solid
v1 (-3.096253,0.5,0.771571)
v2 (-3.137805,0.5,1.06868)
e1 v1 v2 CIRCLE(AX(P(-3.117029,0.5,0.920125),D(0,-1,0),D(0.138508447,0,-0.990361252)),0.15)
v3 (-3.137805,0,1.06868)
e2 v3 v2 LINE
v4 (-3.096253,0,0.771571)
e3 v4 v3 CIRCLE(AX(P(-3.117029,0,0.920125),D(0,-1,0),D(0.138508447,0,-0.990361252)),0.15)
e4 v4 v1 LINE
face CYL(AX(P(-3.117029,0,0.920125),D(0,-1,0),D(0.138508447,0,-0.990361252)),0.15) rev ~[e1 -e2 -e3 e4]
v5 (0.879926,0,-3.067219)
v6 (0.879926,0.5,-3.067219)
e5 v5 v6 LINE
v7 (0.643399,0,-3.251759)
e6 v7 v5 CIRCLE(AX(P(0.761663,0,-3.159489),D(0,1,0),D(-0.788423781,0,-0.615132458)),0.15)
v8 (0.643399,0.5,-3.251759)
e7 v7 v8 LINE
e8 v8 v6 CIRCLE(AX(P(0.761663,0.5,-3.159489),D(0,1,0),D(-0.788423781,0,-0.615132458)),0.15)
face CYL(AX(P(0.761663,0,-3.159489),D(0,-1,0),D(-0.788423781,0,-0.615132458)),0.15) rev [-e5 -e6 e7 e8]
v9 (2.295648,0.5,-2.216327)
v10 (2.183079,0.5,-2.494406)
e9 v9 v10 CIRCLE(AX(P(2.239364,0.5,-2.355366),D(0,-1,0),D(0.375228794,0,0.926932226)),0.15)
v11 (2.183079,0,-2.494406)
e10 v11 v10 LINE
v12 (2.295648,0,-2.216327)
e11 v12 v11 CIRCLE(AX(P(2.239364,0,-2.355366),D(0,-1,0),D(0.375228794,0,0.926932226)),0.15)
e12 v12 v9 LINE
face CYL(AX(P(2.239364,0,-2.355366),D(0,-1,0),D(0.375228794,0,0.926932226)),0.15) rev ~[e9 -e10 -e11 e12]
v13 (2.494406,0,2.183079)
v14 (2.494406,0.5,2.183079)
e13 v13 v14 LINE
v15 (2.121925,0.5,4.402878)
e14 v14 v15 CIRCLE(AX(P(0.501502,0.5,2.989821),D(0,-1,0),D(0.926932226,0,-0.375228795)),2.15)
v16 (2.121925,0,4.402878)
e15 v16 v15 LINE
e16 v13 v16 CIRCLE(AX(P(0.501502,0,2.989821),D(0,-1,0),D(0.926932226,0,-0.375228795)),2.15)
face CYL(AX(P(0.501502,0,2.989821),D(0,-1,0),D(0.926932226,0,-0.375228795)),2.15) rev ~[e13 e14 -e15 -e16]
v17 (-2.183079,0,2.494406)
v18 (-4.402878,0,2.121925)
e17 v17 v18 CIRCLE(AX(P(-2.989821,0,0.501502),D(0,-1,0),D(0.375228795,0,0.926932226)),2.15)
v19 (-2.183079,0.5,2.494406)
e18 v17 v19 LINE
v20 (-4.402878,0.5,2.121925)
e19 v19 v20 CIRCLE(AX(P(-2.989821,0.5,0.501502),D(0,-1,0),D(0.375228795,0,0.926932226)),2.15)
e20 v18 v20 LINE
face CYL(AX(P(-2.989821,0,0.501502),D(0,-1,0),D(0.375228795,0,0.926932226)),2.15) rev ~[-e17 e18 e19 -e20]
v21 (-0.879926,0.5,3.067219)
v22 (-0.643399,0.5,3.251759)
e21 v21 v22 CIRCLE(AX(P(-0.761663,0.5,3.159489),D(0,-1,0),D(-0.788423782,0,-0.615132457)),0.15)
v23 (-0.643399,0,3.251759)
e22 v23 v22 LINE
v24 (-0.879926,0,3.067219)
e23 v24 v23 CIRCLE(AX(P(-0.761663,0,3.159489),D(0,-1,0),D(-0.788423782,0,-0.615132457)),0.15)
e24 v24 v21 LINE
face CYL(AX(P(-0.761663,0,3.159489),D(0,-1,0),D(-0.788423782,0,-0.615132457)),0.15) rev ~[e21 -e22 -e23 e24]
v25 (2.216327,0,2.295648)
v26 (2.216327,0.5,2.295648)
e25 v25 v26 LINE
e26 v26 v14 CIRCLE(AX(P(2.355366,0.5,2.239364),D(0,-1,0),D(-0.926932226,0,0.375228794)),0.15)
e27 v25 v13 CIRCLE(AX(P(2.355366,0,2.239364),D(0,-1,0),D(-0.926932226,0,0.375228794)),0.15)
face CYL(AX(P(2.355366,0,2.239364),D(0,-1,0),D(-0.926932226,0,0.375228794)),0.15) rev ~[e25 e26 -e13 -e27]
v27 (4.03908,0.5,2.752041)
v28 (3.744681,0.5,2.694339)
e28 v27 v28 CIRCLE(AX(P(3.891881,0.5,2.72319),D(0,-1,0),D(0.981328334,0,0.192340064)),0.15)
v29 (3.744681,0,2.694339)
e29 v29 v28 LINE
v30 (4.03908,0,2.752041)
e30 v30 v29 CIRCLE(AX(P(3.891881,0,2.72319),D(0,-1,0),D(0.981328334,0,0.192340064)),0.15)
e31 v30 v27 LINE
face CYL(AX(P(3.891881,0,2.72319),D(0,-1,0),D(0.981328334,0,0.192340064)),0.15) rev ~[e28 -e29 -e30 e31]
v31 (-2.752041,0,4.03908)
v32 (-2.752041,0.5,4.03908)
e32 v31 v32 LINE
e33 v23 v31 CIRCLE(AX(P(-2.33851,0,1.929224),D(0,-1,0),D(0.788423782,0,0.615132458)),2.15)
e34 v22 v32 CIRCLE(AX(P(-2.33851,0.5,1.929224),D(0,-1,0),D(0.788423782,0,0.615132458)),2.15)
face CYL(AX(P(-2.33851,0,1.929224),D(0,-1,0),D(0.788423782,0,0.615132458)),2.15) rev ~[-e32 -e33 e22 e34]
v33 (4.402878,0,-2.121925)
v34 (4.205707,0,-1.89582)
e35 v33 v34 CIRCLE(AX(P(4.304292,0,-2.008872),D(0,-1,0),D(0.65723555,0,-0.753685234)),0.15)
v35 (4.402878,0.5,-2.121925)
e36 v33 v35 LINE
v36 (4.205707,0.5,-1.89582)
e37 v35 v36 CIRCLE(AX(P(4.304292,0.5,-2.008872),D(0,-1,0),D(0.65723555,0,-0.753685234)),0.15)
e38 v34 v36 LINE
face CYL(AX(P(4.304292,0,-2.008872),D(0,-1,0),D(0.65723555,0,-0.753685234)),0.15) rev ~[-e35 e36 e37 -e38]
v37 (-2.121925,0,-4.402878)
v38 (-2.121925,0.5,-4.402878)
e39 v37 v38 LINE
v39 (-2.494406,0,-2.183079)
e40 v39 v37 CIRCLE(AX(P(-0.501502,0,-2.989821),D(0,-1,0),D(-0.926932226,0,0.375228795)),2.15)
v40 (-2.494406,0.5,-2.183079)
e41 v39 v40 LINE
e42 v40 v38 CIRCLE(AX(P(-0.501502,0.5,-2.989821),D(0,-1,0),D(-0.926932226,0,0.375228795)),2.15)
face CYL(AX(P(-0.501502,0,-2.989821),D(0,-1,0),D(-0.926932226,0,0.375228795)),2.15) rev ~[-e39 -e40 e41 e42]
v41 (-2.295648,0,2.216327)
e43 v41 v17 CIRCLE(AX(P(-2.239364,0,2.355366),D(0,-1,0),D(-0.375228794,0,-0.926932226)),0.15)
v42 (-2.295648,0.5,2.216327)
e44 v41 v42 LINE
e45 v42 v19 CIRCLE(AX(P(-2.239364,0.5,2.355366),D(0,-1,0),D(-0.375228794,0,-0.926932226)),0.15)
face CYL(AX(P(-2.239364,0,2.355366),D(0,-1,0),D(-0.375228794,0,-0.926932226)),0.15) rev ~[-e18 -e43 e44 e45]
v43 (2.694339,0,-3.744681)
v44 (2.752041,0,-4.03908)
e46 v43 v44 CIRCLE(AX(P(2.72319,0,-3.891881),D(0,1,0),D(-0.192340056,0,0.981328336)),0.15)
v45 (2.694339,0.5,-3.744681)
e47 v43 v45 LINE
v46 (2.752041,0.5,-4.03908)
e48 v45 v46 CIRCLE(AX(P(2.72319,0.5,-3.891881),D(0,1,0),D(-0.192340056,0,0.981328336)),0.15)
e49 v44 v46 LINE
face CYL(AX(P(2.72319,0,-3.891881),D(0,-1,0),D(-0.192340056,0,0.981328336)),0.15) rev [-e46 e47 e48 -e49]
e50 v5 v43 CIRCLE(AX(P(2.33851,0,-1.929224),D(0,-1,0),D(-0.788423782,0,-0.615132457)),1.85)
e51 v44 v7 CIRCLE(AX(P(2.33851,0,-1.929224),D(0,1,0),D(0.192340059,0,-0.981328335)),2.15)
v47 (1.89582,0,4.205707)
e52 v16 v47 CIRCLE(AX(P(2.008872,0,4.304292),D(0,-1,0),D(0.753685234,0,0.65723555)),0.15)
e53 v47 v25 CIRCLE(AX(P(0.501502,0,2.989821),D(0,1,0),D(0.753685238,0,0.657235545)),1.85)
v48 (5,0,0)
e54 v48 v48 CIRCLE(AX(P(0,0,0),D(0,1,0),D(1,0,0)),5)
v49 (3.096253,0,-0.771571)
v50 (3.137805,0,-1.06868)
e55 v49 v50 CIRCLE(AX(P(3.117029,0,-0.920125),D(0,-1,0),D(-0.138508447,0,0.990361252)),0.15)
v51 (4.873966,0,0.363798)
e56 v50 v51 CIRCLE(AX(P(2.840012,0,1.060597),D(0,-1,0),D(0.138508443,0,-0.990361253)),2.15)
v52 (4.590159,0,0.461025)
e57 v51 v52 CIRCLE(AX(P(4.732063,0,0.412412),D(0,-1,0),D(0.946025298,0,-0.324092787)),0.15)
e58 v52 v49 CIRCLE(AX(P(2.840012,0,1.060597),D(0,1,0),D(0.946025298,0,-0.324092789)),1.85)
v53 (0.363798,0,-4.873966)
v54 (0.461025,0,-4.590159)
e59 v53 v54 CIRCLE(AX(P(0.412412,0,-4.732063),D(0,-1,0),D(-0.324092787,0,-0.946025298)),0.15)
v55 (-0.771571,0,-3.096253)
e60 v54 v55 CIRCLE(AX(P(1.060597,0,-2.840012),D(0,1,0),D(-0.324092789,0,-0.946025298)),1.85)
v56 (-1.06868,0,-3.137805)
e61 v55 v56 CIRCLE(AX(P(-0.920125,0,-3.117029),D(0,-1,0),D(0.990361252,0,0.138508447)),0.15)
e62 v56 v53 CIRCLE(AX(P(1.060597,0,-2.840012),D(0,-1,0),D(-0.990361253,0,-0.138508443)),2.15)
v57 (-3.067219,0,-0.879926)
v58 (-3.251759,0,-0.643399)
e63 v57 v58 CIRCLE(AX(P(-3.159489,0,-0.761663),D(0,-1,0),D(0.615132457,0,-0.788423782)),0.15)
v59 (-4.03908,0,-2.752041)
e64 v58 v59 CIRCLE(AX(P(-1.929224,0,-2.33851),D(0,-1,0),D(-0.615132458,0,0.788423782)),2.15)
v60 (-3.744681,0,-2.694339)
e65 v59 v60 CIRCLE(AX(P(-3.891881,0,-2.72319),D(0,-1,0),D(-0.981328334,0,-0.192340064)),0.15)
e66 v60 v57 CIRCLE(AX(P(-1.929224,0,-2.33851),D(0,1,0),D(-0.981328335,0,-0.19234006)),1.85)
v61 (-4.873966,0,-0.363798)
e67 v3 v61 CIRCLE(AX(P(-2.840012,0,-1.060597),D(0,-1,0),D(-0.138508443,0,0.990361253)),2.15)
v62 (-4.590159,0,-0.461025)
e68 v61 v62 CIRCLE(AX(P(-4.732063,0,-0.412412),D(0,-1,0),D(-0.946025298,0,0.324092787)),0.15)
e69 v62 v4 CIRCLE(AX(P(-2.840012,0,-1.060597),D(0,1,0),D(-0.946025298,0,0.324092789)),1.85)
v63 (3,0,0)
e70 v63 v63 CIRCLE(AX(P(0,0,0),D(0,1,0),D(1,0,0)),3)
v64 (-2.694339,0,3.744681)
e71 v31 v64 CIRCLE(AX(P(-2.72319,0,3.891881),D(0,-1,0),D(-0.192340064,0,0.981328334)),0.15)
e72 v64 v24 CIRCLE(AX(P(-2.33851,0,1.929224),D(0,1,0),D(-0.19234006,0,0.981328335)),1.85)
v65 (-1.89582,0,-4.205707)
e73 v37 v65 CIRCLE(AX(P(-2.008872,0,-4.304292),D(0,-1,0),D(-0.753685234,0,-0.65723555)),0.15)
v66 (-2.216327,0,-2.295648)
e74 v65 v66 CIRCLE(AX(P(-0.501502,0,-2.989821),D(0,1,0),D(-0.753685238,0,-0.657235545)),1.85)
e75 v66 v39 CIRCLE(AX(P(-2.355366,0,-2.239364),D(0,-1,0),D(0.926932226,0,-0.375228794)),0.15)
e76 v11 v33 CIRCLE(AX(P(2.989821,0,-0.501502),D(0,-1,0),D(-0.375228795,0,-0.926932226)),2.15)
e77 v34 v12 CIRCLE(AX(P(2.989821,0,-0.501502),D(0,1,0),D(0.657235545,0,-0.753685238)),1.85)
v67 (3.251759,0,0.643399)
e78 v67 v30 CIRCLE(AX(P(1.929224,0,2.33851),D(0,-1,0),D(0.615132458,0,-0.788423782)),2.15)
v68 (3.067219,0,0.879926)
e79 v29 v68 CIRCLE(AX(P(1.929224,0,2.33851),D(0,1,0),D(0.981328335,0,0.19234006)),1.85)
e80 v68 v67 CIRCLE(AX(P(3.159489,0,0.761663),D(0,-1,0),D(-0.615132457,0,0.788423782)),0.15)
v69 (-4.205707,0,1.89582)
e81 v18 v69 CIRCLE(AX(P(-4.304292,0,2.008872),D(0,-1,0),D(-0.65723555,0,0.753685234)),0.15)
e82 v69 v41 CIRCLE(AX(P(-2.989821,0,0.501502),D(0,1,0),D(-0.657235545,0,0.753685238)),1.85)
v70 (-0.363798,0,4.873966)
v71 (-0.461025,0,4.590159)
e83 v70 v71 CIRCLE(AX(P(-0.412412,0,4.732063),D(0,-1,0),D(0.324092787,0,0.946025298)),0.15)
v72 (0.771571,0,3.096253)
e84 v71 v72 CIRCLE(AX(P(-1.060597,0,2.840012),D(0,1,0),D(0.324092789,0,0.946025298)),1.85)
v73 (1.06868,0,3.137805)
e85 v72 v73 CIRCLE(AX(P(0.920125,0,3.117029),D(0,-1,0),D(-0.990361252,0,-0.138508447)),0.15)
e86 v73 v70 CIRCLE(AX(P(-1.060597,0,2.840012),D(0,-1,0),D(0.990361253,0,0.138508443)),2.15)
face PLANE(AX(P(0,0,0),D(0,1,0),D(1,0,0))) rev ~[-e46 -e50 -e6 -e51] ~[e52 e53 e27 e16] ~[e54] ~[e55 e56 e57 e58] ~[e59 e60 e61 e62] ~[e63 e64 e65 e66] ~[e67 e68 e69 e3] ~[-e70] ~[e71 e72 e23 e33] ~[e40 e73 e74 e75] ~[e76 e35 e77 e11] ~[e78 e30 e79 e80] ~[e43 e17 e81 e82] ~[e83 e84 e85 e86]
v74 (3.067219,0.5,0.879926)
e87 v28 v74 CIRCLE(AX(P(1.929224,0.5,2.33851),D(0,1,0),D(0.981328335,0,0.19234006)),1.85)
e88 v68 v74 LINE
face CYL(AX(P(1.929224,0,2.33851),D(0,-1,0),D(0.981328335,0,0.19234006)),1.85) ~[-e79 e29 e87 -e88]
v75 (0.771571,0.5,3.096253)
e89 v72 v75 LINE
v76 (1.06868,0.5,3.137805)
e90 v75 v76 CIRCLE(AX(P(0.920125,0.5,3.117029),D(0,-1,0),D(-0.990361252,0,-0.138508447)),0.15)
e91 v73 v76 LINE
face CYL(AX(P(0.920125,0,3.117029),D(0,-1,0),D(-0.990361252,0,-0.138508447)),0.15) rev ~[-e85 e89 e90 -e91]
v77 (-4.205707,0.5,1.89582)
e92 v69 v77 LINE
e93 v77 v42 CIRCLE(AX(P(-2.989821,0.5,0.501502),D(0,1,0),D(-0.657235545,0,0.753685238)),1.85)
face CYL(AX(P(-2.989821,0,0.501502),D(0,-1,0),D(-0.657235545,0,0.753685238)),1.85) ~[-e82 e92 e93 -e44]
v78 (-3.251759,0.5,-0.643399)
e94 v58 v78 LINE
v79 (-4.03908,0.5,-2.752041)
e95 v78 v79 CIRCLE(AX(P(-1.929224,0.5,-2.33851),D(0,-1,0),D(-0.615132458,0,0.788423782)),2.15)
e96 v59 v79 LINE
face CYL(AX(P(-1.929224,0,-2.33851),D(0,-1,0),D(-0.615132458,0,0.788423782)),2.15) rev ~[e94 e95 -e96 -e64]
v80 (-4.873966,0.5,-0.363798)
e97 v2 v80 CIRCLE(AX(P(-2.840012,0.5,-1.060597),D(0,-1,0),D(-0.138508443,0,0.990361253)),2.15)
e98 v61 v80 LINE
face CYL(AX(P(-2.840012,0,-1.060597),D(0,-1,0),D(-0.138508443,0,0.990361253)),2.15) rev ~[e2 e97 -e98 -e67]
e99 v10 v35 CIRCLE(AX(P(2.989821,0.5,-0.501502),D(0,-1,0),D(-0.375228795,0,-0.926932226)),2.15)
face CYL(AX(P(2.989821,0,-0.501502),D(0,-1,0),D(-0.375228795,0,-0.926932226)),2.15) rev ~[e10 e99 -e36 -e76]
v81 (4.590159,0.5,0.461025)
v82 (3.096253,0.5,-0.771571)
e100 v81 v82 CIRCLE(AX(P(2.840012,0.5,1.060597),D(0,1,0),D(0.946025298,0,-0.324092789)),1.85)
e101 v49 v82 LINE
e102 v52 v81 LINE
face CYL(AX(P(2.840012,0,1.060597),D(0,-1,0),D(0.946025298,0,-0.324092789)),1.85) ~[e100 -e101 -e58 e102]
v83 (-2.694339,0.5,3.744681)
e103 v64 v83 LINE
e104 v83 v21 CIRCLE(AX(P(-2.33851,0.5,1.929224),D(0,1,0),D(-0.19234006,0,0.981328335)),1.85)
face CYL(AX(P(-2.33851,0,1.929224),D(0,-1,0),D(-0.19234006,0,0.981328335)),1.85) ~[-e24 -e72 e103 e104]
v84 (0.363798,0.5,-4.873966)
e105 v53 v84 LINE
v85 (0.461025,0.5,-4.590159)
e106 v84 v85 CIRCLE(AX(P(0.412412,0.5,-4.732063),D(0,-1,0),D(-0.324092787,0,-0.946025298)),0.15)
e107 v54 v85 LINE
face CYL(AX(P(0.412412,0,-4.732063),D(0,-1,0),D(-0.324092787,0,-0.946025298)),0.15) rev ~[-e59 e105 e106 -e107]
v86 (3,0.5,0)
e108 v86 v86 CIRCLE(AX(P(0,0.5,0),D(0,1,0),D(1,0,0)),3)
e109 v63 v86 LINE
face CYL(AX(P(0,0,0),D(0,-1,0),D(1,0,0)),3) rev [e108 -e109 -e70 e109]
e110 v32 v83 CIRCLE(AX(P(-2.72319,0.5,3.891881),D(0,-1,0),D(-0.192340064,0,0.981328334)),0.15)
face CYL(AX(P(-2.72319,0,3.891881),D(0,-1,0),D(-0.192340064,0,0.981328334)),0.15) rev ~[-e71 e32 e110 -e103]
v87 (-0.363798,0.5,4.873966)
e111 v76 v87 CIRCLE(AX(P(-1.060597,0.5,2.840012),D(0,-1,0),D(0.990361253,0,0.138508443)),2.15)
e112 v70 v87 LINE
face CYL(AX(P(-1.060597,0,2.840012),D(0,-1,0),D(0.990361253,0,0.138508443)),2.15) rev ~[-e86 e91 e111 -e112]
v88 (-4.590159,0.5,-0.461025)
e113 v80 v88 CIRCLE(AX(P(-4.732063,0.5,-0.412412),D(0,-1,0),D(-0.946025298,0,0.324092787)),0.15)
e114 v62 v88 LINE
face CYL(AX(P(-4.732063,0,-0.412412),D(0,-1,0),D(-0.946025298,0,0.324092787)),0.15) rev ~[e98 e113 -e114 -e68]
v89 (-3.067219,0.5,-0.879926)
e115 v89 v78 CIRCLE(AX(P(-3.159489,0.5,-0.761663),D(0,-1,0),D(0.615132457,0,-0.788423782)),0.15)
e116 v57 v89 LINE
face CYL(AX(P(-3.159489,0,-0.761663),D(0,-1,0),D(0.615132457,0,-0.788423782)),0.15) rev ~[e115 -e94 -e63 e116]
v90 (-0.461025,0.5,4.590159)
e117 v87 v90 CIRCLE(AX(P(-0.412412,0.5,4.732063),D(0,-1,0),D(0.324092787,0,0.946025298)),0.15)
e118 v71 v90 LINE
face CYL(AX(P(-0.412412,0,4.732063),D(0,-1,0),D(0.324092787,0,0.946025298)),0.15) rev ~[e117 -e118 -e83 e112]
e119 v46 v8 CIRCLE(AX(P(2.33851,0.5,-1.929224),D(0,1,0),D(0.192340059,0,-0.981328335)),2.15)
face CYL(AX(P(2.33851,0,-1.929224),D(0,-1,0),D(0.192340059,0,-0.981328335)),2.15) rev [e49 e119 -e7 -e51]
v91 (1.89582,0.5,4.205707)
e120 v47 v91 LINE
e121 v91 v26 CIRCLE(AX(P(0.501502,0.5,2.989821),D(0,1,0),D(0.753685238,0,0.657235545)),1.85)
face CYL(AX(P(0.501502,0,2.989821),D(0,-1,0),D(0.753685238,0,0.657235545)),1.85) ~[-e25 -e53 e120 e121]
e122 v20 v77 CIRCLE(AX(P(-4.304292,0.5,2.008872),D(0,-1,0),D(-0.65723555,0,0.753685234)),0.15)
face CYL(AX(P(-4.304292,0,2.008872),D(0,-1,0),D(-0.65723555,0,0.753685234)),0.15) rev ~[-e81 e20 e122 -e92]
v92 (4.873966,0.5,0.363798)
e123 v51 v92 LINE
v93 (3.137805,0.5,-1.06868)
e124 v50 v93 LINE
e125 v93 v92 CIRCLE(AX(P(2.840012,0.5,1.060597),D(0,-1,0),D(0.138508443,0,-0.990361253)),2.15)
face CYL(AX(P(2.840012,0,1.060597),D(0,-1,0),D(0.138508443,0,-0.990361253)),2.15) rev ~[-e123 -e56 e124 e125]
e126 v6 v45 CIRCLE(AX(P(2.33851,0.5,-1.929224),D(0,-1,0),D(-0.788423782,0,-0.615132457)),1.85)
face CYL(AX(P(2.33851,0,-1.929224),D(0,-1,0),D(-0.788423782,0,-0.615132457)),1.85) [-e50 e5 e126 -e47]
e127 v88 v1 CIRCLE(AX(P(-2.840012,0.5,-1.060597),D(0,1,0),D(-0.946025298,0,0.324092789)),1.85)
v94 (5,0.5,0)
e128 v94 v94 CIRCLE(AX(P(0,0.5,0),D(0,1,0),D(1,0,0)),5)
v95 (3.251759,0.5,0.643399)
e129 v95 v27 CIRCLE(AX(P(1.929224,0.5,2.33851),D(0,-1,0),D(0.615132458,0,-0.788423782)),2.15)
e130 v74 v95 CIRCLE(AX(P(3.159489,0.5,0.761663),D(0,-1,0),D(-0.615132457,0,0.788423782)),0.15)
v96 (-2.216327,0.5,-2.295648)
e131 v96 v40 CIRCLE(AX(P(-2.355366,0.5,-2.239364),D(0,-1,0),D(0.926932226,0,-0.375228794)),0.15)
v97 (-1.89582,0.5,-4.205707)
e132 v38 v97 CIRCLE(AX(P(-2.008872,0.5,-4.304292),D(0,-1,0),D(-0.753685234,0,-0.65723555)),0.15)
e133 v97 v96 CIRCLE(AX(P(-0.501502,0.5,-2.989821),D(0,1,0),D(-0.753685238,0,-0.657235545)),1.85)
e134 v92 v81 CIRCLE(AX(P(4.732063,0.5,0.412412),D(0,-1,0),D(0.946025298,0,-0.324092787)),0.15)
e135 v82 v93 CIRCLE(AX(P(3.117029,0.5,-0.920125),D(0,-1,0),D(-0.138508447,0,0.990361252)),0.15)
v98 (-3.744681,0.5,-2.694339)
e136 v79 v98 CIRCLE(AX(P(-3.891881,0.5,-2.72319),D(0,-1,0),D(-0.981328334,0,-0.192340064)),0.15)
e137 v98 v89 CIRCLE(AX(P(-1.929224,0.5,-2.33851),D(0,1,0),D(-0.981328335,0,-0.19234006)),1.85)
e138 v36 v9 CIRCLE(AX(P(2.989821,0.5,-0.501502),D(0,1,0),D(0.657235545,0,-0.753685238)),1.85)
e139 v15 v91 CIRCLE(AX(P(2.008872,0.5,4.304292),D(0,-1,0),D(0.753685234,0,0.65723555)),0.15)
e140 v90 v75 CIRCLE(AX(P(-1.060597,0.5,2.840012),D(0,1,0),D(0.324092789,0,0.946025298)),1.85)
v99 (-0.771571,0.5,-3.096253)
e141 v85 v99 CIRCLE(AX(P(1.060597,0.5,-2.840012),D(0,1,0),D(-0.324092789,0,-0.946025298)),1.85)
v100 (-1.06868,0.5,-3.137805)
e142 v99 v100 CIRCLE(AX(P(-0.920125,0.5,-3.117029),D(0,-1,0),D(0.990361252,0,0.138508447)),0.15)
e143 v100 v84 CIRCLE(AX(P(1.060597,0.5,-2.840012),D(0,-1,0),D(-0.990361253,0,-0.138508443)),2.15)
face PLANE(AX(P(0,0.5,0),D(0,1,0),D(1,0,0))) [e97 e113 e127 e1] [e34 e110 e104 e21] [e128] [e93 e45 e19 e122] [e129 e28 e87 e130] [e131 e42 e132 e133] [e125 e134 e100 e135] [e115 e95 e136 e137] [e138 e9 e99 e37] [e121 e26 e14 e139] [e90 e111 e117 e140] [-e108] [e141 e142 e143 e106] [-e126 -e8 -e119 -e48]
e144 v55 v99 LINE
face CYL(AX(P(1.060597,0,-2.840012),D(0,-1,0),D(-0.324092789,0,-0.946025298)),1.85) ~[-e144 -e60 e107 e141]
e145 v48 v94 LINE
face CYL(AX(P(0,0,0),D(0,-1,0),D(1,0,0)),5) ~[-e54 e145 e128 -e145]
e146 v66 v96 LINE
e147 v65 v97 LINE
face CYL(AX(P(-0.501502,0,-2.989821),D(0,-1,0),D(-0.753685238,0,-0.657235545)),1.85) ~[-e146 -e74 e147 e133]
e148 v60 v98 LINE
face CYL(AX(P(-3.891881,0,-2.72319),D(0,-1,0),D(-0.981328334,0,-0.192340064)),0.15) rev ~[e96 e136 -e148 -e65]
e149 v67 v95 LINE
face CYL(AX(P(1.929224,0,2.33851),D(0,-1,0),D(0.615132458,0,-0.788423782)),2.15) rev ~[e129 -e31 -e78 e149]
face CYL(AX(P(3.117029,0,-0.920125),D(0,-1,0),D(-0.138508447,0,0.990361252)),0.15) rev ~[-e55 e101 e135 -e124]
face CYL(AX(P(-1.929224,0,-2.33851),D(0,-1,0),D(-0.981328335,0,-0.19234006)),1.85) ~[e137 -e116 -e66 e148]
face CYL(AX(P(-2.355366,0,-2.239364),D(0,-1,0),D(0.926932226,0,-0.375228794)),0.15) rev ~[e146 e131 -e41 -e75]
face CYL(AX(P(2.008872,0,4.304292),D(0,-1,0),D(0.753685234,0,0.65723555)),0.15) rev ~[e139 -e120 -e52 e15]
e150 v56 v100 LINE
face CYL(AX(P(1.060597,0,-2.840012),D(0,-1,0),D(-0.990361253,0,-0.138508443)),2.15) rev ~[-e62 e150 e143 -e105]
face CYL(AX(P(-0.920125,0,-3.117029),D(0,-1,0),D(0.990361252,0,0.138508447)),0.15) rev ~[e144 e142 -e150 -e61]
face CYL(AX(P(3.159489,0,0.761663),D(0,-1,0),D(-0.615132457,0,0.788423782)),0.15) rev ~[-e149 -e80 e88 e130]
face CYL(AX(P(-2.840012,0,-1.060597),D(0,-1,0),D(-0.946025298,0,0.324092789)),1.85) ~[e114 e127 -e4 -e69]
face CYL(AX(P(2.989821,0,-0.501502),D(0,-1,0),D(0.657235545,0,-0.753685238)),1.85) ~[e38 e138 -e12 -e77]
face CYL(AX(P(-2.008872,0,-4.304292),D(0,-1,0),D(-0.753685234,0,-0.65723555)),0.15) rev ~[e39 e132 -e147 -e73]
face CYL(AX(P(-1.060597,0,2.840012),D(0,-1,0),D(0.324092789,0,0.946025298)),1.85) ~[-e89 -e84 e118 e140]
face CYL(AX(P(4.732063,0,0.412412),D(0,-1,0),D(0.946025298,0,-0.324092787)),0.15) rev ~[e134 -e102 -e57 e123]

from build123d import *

# Parameters (mm, degrees)
SKETCH1_R           = 5
SKETCH1_R_2         = 3
BOSS_EXTRUDE1_DEPTH = 0.5
CUT_EXTRUDE2_DEPTH  = 0.5
CUT_EXTRUDE3_DEPTH  = 0.5
CUT_EXTRUDE5_DEPTH  = 0.5


with BuildPart() as part:
    # Sketch1 → Boss-Extrude1 (new body)
    with BuildSketch(Plane(origin=(0, 0, 0), x_dir=(1, 0, 0), z_dir=(0, 1, 0))):
        Circle(SKETCH1_R)
        Circle(SKETCH1_R_2, mode=Mode.SUBTRACT)
    extrude(amount=BOSS_EXTRUDE1_DEPTH)

    # Sketch1<4> → Cut-Extrude2 (cut)
    with BuildSketch(Plane(origin=(0, 0, 0), x_dir=(1, 0, 0), z_dir=(0, 1, 0))):
        with BuildLine():
            ThreePointArc((-3.744681424, 2.694339182), (-3.662355303, 1.691396556), (-3.06721905, 0.879926074))
            ThreePointArc((-3.06721905, 0.879926074), (-3.041225351, 0.669392639), (-3.251758787, 0.64339894))
            ThreePointArc((-3.251758787, 0.64339894), (-3.943403621, 1.586459229), (-4.039079925, 2.7520412))
            ThreePointArc((-4.039079925, 2.7520412), (-3.863029666, 2.870389441), (-3.744681424, 2.694339182))
        make_face()
    extrude(amount=CUT_EXTRUDE2_DEPTH, mode=Mode.SUBTRACT)

    # Sketch1<6> → Cut-Extrude3 (cut)
    with BuildSketch(Plane(origin=(0, 0, 0), x_dir=(1, 0, 0), z_dir=(0, 1, 0))):
        with BuildLine():
            ThreePointArc((2.7520412, 4.039079925), (1.586459229, 3.943403621), (0.64339894, 3.251758787))
            ThreePointArc((0.64339894, 3.251758787), (0.669392639, 3.041225351), (0.879926074, 3.06721905))
            ThreePointArc((0.879926074, 3.06721905), (1.691396556, 3.662355303), (2.694339182, 3.744681424))
            ThreePointArc((2.694339182, 3.744681424), (2.870389441, 3.863029666), (2.7520412, 4.039079925))
        make_face()
        with BuildLine():
            ThreePointArc((-1.895819652, 4.20570689), (-2.325994452, 3.295970036), (-2.216326579, 2.295647859))
            ThreePointArc((-2.216326579, 2.295647859), (-2.299082093, 2.100323706), (-2.494406247, 2.18307922))
            ThreePointArc((-2.494406247, 2.18307922), (-2.621858099, 3.345615805), (-2.121925223, 4.402877554))
            ThreePointArc((-2.121925223, 4.402877554), (-1.910287106, 4.417345007), (-1.895819652, 4.20570689))
        make_face()
        with BuildLine():
            ThreePointArc((0.461025466, 4.590158833), (-0.366385266, 4.017391008), (-0.771571191, 3.096252653))
            ThreePointArc((-0.771571191, 3.096252653), (-0.940901645, 2.968474732), (-1.068679567, 3.137805186))
            ThreePointArc((-1.068679567, 3.137805186), (-0.597787817, 4.208317328), (0.363797629, 4.873966423))
            ThreePointArc((0.363797629, 4.873966423), (0.554315342, 4.780676547), (0.461025466, 4.590158833))
        make_face()
    extrude(amount=CUT_EXTRUDE3_DEPTH, mode=Mode.SUBTRACT)

    # Sketch1<7> → Cut-Extrude5 (cut)
    with BuildSketch(Plane(origin=(0, 0, 0), x_dir=(1, 0, 0), z_dir=(0, 1, 0))):
        with BuildLine():
            ThreePointArc((4.20570689, 1.895819652), (3.295970036, 2.325994452), (2.295647859, 2.216326579))
            ThreePointArc((2.295647859, 2.216326579), (2.100323706, 2.299082093), (2.18307922, 2.494406247))
            ThreePointArc((2.18307922, 2.494406247), (3.345615805, 2.621858099), (4.402877554, 2.121925223))
            ThreePointArc((4.402877554, 2.121925223), (4.417345007, 1.910287106), (4.20570689, 1.895819652))
        make_face()
        with BuildLine():
            ThreePointArc((4.590158833, -0.461025466), (4.017391008, 0.366385266), (3.096252653, 0.771571191))
            ThreePointArc((3.096252653, 0.771571191), (2.968474732, 0.940901645), (3.137805186, 1.068679567))
            ThreePointArc((3.137805186, 1.068679567), (4.208317328, 0.597787817), (4.873966423, -0.363797629))
            ThreePointArc((4.873966423, -0.363797629), (4.780676547, -0.554315342), (4.590158833, -0.461025466))
        make_face()
        with BuildLine():
            ThreePointArc((3.744681424, -2.694339182), (3.662355303, -1.691396556), (3.06721905, -0.879926074))
            ThreePointArc((3.06721905, -0.879926074), (3.041225351, -0.669392639), (3.251758787, -0.64339894))
            ThreePointArc((3.251758787, -0.64339894), (3.943403621, -1.586459229), (4.039079925, -2.7520412))
            ThreePointArc((4.039079925, -2.7520412), (3.863029666, -2.870389441), (3.744681424, -2.694339182))
        make_face()
        with BuildLine():
            ThreePointArc((1.895819652, -4.20570689), (2.325994452, -3.295970036), (2.216326579, -2.295647859))
            ThreePointArc((2.216326579, -2.295647859), (2.299082093, -2.100323706), (2.494406247, -2.18307922))
            ThreePointArc((2.494406247, -2.18307922), (2.621858099, -3.345615805), (2.121925223, -4.402877554))
            ThreePointArc((2.121925223, -4.402877554), (1.910287106, -4.417345007), (1.895819652, -4.20570689))
        make_face()
        with BuildLine():
            ThreePointArc((-0.461025466, -4.590158833), (0.366385266, -4.017391008), (0.771571191, -3.096252653))
            ThreePointArc((0.771571191, -3.096252653), (0.940901645, -2.968474732), (1.068679567, -3.137805186))
            ThreePointArc((1.068679567, -3.137805186), (0.597787817, -4.208317328), (-0.363797629, -4.873966423))
            ThreePointArc((-0.363797629, -4.873966423), (-0.554315342, -4.780676547), (-0.461025466, -4.590158833))
        make_face()
        with BuildLine():
            ThreePointArc((-2.694339182, -3.744681424), (-1.691396556, -3.662355303), (-0.879926074, -3.06721905))
            ThreePointArc((-0.879926074, -3.06721905), (-0.669392639, -3.041225351), (-0.64339894, -3.251758787))
            ThreePointArc((-0.64339894, -3.251758787), (-1.586459229, -3.943403621), (-2.7520412, -4.039079925))
            ThreePointArc((-2.7520412, -4.039079925), (-2.870389441, -3.863029666), (-2.694339182, -3.744681424))
        make_face()
        with BuildLine():
            ThreePointArc((-4.20570689, -1.895819652), (-3.295970036, -2.325994452), (-2.295647859, -2.216326579))
            ThreePointArc((-2.295647859, -2.216326579), (-2.100323706, -2.299082093), (-2.18307922, -2.494406247))
            ThreePointArc((-2.18307922, -2.494406247), (-3.345615805, -2.621858099), (-4.402877554, -2.121925223))
            ThreePointArc((-4.402877554, -2.121925223), (-4.417345007, -1.910287106), (-4.20570689, -1.895819652))
        make_face()
        with BuildLine():
            ThreePointArc((-4.590158833, 0.461025466), (-4.017391008, -0.366385266), (-3.096252653, -0.771571191))
            ThreePointArc((-3.096252653, -0.771571191), (-2.968474732, -0.940901645), (-3.137805186, -1.068679567))
            ThreePointArc((-3.137805186, -1.068679567), (-4.208317328, -0.597787817), (-4.873966423, 0.363797629))
            ThreePointArc((-4.873966423, 0.363797629), (-4.780676547, 0.554315342), (-4.590158833, 0.461025466))
        make_face()
    extrude(amount=CUT_EXTRUDE5_DEPTH, mode=Mode.SUBTRACT)


solid = part.part
